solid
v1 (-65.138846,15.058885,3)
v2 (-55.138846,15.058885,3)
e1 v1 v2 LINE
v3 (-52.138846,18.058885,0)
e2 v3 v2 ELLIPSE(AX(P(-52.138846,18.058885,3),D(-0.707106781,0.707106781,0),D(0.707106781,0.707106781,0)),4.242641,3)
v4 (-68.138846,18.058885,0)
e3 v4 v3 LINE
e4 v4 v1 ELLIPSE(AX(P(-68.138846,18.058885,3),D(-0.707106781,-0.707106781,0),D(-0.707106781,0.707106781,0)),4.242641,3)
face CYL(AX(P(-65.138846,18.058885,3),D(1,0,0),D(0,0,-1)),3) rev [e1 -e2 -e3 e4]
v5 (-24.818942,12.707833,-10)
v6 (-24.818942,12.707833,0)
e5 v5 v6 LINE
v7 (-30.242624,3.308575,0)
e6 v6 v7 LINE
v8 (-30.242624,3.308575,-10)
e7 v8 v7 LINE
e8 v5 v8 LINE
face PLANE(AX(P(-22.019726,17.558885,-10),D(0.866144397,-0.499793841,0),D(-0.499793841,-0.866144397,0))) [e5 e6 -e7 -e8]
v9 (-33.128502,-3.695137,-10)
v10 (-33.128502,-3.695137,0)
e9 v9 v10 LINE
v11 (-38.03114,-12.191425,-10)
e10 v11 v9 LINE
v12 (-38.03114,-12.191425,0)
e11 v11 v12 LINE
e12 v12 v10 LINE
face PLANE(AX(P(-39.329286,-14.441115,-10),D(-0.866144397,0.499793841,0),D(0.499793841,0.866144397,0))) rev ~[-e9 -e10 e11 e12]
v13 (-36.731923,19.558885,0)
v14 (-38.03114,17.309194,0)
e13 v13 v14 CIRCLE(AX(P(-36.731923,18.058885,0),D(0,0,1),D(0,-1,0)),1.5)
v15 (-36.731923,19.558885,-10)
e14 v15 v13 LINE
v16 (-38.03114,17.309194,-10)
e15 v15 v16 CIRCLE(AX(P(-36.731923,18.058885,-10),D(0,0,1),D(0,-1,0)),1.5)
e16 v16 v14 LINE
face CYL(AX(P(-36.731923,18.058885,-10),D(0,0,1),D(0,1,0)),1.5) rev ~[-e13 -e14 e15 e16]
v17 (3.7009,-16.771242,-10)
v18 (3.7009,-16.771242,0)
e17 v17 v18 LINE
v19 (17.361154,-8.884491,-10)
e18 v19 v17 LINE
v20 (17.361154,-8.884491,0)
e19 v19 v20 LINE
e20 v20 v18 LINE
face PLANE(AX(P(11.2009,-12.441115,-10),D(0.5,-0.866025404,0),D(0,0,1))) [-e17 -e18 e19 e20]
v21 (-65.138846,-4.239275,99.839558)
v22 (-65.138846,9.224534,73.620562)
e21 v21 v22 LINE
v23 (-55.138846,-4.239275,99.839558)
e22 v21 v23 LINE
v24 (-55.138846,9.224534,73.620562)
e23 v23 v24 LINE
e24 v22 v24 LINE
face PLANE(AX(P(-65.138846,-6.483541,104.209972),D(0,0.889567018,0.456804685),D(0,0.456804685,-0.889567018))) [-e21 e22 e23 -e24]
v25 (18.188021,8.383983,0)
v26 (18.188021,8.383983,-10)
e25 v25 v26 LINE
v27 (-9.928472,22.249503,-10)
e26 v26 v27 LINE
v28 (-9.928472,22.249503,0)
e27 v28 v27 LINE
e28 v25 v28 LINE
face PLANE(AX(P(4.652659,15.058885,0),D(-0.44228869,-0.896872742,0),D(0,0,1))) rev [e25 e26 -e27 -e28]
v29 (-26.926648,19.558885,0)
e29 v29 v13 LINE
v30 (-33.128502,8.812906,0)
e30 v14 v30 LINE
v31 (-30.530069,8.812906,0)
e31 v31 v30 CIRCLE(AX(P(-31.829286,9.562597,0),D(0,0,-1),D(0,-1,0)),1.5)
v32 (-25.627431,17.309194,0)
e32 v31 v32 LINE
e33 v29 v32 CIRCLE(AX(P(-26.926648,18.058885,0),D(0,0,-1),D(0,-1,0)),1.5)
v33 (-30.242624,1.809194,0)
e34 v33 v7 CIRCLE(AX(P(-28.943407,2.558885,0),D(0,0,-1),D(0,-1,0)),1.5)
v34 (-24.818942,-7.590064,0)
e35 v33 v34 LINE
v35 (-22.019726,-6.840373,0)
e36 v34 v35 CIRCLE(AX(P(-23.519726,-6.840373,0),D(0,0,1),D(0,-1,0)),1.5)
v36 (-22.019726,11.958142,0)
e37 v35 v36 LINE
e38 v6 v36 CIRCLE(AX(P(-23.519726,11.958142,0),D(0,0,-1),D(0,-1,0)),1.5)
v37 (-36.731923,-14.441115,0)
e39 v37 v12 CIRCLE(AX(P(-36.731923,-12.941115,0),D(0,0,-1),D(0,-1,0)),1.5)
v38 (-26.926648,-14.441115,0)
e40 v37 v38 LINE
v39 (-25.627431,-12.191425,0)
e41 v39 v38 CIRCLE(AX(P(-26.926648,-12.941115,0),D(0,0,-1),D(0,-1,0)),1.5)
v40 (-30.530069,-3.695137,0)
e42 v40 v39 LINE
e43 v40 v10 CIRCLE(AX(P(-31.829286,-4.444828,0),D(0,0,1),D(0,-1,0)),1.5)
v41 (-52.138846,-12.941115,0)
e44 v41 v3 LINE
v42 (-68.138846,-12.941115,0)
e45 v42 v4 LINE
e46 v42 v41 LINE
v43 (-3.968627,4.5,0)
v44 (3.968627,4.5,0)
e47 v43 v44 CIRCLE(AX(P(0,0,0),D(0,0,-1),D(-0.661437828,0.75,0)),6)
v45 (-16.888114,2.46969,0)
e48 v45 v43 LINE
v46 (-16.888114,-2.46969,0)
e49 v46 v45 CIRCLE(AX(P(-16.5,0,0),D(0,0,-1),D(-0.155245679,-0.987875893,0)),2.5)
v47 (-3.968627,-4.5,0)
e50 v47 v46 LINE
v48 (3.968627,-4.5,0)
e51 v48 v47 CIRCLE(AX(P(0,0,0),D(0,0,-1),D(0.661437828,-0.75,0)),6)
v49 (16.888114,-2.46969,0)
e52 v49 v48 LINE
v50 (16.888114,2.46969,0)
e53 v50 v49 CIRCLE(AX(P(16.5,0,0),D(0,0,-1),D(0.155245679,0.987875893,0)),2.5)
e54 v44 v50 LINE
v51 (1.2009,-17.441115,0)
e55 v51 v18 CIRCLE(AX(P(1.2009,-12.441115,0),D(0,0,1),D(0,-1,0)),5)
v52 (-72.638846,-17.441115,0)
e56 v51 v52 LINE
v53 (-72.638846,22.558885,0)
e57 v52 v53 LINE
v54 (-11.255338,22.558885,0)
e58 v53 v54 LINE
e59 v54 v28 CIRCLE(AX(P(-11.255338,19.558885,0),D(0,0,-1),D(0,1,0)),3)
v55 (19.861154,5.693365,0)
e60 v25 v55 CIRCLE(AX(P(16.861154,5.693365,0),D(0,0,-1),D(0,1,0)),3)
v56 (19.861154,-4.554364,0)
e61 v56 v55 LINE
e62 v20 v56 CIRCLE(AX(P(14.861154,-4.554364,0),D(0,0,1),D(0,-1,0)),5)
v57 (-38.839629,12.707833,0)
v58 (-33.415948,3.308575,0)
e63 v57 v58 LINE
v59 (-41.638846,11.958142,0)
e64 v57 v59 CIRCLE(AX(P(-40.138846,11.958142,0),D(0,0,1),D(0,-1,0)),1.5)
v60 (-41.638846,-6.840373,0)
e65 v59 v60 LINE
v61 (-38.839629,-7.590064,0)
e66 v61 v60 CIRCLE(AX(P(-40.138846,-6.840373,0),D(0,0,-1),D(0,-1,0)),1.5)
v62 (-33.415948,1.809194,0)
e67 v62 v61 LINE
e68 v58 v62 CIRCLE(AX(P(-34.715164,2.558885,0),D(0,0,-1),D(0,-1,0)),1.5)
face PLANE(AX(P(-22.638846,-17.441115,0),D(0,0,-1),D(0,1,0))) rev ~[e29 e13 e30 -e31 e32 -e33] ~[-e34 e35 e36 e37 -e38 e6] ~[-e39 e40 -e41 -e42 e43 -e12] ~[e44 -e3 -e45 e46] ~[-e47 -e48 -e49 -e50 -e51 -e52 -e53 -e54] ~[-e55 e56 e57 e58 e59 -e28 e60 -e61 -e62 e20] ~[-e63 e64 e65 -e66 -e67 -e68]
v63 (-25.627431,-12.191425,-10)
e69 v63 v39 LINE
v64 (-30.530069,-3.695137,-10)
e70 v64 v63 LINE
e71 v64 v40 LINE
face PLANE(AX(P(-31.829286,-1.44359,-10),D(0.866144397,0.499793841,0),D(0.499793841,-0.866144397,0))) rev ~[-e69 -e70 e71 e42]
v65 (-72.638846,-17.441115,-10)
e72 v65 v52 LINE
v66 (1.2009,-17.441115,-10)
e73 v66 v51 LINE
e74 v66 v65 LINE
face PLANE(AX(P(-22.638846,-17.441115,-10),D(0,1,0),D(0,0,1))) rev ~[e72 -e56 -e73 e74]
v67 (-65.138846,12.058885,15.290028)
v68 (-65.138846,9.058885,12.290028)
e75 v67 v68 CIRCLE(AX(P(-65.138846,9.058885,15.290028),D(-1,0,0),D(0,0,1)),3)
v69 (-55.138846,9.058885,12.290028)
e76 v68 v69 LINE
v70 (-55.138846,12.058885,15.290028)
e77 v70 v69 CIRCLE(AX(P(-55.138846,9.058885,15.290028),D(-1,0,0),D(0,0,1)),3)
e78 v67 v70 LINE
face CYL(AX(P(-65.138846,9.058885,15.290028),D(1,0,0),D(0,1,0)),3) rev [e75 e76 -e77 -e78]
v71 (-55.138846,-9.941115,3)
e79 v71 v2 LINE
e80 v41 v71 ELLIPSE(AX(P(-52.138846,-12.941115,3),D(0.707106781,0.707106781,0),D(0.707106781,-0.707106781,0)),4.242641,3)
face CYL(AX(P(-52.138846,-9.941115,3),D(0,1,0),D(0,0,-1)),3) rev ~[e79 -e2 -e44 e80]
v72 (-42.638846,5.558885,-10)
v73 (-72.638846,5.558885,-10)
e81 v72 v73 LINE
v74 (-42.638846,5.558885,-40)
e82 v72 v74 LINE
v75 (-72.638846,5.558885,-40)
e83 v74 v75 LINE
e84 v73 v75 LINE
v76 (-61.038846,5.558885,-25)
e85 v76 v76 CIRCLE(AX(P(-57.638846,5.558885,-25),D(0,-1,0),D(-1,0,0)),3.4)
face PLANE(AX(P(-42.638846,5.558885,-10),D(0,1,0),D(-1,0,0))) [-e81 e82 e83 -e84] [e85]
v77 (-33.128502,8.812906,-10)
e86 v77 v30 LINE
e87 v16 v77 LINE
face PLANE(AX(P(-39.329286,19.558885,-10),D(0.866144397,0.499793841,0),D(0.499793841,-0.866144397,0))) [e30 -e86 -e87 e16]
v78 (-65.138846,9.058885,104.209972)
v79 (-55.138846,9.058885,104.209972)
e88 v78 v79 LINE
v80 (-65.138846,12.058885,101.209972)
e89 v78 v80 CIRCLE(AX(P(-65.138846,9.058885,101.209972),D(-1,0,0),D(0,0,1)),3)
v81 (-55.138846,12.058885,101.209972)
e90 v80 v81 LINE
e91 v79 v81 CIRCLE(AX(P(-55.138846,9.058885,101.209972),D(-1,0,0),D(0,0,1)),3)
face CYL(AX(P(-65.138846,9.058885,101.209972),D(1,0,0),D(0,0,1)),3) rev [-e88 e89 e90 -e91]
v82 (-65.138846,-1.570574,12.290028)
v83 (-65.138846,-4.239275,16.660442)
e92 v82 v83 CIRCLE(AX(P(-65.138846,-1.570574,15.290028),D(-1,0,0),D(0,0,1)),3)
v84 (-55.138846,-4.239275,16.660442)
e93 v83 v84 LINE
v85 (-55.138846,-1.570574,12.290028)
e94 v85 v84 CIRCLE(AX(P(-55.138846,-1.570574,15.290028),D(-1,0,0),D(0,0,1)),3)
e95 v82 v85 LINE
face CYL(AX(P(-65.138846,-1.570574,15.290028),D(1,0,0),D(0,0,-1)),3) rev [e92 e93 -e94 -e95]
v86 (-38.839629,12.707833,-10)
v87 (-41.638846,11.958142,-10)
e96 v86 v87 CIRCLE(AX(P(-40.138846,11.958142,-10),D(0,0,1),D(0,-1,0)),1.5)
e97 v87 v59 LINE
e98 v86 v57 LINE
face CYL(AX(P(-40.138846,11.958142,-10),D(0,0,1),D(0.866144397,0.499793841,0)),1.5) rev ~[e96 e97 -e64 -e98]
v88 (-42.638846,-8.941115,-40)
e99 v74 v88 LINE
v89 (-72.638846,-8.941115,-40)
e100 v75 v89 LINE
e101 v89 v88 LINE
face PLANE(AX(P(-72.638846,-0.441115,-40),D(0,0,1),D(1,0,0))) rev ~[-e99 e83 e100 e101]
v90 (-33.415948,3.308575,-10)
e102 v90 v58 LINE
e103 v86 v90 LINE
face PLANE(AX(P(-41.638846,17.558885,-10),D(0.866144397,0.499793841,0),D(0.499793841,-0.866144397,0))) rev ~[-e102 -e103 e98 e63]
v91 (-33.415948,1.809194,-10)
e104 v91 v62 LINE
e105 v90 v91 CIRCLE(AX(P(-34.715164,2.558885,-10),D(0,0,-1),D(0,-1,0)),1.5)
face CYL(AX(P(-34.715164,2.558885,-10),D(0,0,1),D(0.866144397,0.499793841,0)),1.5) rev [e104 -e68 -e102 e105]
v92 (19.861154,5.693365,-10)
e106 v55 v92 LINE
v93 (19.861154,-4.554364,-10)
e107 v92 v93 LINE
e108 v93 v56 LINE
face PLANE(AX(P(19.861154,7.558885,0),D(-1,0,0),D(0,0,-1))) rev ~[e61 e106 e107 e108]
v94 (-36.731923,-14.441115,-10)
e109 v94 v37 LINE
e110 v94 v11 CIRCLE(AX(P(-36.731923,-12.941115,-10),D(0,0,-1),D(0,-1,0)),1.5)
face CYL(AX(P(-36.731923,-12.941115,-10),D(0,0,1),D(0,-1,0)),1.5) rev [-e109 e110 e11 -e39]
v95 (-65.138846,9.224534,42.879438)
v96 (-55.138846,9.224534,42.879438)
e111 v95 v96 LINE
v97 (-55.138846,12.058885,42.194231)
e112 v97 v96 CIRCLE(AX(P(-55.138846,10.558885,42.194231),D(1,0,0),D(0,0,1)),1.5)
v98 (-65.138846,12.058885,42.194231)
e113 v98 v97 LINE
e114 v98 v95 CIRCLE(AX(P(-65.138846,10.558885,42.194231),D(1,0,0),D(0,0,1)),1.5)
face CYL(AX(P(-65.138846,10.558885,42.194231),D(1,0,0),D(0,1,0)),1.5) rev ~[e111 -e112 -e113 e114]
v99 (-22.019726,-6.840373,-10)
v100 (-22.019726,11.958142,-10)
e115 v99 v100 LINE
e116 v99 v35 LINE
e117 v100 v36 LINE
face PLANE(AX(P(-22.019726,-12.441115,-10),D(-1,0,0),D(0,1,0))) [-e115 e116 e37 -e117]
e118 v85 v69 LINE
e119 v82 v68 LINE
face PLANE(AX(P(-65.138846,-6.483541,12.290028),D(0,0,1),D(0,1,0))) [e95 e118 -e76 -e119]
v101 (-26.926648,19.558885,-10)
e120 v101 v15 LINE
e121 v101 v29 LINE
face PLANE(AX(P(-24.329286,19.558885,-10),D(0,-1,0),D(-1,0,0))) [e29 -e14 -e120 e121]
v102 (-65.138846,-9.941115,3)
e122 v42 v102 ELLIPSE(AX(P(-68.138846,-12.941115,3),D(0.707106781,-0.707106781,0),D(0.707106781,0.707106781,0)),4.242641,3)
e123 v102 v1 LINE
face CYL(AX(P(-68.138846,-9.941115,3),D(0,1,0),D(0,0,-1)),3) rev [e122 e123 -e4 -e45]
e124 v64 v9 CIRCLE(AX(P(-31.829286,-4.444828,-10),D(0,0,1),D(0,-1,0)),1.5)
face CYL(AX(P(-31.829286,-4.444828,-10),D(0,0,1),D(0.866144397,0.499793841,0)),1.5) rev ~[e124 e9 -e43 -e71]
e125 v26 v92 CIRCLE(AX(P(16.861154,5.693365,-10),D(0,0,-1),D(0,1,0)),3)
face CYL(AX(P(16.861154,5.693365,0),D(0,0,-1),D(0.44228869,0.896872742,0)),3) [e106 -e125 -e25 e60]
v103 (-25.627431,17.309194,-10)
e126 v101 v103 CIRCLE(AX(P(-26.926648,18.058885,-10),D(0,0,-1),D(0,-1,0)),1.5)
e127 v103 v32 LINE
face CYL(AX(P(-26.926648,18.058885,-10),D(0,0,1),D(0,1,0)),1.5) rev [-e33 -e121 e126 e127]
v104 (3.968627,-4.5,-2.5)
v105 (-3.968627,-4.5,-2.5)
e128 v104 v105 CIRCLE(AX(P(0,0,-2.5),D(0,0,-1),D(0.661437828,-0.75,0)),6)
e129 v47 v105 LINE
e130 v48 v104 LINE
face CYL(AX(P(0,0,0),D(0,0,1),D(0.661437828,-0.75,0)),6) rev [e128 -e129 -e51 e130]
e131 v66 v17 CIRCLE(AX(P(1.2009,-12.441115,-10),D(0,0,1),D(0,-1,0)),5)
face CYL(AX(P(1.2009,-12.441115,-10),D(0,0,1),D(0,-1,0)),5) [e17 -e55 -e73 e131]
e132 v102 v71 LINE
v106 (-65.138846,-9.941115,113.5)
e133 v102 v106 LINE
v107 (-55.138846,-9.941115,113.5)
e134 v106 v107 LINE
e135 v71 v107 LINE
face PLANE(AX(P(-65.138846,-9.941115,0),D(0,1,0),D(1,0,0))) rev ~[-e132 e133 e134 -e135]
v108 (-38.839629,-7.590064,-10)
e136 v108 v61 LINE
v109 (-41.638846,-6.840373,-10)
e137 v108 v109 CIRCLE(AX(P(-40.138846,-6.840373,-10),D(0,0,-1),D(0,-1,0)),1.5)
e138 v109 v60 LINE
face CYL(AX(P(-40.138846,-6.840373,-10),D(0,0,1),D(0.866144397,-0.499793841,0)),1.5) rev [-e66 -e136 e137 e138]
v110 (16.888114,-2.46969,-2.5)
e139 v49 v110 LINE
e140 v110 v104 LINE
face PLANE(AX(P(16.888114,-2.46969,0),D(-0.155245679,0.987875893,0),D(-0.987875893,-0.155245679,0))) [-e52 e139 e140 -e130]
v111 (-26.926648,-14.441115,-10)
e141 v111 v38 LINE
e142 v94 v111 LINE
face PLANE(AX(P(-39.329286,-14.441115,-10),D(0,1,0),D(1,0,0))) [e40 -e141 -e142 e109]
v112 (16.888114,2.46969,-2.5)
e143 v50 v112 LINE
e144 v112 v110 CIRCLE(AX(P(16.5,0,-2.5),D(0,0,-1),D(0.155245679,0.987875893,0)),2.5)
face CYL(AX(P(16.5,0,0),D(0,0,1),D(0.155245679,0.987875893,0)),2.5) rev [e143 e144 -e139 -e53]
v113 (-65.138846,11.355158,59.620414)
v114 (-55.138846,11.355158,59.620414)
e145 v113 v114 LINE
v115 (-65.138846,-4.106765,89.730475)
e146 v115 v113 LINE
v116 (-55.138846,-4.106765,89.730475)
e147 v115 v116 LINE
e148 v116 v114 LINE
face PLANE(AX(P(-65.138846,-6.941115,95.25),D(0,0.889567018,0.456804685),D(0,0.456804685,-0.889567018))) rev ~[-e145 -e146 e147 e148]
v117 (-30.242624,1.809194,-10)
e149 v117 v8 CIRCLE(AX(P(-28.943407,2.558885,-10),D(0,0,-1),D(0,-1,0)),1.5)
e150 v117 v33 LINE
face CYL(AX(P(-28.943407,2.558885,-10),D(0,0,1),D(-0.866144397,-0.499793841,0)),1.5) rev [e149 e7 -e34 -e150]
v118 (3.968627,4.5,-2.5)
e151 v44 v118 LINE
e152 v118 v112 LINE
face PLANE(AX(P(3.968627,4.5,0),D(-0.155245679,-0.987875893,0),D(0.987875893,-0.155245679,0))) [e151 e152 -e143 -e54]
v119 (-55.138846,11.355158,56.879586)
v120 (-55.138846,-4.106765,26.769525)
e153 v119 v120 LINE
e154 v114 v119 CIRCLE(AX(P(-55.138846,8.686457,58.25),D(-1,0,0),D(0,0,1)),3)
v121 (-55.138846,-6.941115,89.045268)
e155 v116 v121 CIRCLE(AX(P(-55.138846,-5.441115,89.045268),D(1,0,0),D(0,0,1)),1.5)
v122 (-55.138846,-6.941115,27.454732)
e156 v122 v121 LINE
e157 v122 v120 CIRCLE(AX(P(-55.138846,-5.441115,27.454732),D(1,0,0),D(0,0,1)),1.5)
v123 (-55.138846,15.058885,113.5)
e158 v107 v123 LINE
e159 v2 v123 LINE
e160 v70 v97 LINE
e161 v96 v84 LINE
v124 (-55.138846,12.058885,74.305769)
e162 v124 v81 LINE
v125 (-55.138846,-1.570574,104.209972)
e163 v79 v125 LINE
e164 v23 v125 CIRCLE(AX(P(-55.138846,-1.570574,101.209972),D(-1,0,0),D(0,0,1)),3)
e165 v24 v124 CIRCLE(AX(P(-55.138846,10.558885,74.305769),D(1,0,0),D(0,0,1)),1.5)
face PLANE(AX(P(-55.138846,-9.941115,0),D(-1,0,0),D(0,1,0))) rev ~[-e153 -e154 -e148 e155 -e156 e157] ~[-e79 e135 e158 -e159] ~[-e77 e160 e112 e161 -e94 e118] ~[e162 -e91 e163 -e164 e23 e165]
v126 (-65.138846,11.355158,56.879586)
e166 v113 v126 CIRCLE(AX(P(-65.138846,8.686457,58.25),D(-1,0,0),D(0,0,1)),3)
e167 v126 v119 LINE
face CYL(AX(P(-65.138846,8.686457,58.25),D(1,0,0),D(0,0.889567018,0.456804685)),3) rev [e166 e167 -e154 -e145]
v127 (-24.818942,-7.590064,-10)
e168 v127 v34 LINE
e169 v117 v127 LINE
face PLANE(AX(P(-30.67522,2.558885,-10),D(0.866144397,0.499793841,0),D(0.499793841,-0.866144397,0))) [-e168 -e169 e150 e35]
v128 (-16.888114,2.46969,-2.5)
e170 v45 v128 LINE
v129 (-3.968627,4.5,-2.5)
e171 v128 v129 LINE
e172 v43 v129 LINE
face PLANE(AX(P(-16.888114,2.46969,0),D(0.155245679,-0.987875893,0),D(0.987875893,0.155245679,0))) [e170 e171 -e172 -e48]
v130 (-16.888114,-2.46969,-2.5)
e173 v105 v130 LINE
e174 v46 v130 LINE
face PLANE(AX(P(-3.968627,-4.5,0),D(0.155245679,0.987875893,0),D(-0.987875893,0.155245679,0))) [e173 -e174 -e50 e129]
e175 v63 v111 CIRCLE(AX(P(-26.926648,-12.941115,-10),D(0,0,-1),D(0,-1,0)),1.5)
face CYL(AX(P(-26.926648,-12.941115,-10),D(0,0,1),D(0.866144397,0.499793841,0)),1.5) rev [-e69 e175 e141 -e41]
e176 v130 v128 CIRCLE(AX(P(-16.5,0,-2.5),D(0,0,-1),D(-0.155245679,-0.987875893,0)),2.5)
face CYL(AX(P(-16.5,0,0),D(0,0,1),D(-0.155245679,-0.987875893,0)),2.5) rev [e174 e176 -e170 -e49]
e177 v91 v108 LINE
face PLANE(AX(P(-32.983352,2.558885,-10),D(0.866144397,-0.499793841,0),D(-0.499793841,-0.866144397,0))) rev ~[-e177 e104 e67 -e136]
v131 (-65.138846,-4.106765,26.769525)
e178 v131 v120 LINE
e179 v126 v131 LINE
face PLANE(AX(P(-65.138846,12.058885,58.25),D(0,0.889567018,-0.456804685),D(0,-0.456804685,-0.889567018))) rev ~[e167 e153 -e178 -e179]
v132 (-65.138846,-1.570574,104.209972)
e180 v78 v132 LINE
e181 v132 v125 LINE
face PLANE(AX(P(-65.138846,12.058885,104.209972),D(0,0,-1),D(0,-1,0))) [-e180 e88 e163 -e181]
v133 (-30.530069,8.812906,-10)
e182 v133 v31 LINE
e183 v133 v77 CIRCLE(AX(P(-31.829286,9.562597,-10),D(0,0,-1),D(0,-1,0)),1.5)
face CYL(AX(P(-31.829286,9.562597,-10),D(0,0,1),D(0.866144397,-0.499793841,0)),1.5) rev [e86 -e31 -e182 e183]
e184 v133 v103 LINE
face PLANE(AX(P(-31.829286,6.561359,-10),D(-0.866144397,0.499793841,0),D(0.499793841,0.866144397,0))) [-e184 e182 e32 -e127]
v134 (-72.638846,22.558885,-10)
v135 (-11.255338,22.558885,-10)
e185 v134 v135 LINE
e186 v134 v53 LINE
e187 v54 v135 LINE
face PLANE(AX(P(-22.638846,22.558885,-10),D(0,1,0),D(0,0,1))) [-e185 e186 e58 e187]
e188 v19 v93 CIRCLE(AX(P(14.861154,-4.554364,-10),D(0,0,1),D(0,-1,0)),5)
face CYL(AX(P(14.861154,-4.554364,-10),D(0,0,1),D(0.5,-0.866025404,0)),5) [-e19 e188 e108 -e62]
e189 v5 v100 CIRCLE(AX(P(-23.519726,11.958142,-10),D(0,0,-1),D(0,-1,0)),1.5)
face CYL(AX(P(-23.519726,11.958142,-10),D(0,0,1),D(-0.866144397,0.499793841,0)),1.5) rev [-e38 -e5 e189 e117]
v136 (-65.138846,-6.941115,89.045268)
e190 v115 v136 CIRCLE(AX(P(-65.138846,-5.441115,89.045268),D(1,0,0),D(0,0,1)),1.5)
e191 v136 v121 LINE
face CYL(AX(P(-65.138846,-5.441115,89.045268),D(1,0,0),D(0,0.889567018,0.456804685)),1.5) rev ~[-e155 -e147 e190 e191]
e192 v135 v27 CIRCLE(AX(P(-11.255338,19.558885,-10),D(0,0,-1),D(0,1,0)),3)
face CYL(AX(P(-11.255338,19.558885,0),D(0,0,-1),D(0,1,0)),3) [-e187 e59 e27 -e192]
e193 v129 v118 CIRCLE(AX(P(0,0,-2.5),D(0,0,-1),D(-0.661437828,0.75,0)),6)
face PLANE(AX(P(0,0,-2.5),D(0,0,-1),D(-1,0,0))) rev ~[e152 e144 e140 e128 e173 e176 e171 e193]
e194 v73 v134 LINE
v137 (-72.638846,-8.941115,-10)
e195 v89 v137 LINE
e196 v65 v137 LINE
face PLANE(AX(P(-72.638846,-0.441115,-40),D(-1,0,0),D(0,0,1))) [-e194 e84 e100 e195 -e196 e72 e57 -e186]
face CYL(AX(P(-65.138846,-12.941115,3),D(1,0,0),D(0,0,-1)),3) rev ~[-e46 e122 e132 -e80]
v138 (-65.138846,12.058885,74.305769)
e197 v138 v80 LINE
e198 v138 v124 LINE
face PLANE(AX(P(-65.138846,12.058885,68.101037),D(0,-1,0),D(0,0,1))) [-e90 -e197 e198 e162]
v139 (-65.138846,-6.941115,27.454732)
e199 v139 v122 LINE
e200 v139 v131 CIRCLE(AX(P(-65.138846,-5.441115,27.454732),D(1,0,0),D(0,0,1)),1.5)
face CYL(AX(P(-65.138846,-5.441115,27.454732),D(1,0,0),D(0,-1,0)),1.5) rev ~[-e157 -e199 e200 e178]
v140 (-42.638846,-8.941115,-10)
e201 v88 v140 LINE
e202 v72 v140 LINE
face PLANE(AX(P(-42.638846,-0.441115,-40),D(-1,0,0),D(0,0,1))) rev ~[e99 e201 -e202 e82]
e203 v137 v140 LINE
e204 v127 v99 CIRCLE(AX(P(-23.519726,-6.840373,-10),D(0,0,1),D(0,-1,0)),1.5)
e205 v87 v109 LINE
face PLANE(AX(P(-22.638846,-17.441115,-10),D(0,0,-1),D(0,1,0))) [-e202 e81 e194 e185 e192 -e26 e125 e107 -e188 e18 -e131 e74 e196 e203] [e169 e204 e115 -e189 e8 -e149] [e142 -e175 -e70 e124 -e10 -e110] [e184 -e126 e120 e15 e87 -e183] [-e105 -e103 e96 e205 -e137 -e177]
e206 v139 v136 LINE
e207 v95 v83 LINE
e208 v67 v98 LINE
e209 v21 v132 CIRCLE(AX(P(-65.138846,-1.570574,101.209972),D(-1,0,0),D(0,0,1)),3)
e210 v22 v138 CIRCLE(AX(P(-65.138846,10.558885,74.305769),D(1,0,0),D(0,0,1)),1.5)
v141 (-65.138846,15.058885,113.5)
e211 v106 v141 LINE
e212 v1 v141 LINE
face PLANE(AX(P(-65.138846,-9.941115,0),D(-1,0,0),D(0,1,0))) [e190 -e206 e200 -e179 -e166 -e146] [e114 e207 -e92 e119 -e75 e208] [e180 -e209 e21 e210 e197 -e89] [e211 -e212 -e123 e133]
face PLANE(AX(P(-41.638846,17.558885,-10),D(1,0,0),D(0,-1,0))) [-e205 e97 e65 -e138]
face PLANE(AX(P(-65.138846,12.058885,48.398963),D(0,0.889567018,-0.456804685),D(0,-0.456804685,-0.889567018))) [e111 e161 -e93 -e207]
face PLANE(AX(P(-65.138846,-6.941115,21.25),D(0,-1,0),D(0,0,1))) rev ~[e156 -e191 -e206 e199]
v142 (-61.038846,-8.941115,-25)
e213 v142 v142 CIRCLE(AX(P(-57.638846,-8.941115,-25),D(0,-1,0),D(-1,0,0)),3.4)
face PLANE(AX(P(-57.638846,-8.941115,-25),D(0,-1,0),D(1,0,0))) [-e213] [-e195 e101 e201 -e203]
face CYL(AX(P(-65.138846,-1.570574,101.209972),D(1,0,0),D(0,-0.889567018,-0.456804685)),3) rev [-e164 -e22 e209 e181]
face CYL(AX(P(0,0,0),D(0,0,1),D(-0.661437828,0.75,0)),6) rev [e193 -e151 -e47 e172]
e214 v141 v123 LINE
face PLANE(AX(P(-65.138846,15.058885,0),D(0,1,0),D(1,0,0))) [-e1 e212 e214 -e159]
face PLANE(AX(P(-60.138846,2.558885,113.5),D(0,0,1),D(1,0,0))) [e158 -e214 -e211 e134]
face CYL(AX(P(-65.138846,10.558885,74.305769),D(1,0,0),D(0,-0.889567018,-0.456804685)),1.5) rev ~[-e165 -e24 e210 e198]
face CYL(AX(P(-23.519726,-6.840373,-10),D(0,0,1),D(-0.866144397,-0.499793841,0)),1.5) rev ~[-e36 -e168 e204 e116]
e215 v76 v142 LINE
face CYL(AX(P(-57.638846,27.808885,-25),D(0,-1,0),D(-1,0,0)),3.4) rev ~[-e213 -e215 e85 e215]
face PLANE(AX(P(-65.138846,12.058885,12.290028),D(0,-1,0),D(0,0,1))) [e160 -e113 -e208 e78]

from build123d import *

# Parameters (mm, degrees)
SKETCH3_W             = 42.5
SKETCH3_H             = 15
BOSS_EXTRUDE1_DEPTH   = 10
CUT_EXTRUDE1_DEPTH    = 2.5
SKETCH11_W            = 42.5
SKETCH11_H            = 10
BOSS_EXTRUDE5_DEPTH   = 10
SKETCH14_W            = 42.5
SKETCH14_H            = 10
BOSS_EXTRUDE7_DEPTH   = 15
SKETCH20_W            = 10
SKETCH20_H            = 40
BOSS_EXTRUDE10_DEPTH  = 50
SKETCH21_W            = 10
SKETCH21_H            = 25
BOSS_EXTRUDE11_DEPTH  = 113.5
SKETCH22_W            = 30
SKETCH22_H            = 6
BOSS_EXTRUDE12_DEPTH  = 30
SKETCH23_W            = 30
SKETCH23_H            = 30
BOSS_EXTRUDE13_DEPTH  = 8.5
FILLET1_R             = 3
CHAMFER1_SIZE         = 15
CHAMFER1_SIZE2        = 30.41699103
FILLET2_R             = 3
CHAMFER2_SIZE         = 10
CHAMFER2_SIZE2        = 17.320508076
FILLET3_R             = 5
CUT_EXTRUDE2_DEPTH    = 144.583262507
FILLET4_R             = 3
FILLET5_R             = 1.5
M8_TAPPED_HOLE1_D     = 6.8
M8_TAPPED_HOLE1_DEPTH = 22.25
M8_TAPPED_HOLE1_TIP   = 2.042926105
CUT_EXTRUDE3_DEPTH    = 141.312152004
FILLET6_R             = 1.5


with BuildPart() as part:
    # Sketch3 → Boss-Extrude1 (new body)
    with BuildSketch(Plane.XY):
        with Locations((-1.388845539, 0.05888455)):
            Rectangle(SKETCH3_W, SKETCH3_H)
    extrude(amount=-BOSS_EXTRUDE1_DEPTH)

    # Sketch2 → Cut-Extrude1 (cut)
    with BuildSketch(Plane.XY):
        with BuildLine():
            Line((-16.888114198, 2.469689731), (-3.968626967, 4.5))
            ThreePointArc((-3.968626967, 4.5), (0, 6), (3.968626967, 4.5))
            Line((3.968626967, 4.5), (16.888114198, 2.469689731))
            ThreePointArc((16.888114198, 2.469689731), (19, 0), (16.888114198, -2.469689731))
            Line((16.888114198, -2.469689731), (3.968626967, -4.5))
            ThreePointArc((3.968626967, -4.5), (0, -6), (-3.968626967, -4.5))
            Line((-3.968626967, -4.5), (-16.888114198, -2.469689731))
            ThreePointArc((-16.888114198, -2.469689731), (-19, 0), (-16.888114198, 2.469689731))
        make_face()
    extrude(amount=-CUT_EXTRUDE1_DEPTH, mode=Mode.SUBTRACT)

    # Sketch11 → Boss-Extrude5 (add)
    with BuildSketch(Plane.XZ.offset(7.44111545)):
        with Locations((-1.388845539, -5)):
            Rectangle(SKETCH11_W, SKETCH11_H)
    extrude(amount=BOSS_EXTRUDE5_DEPTH)

    # Sketch14 → Boss-Extrude7 (add)
    with BuildSketch(Plane(origin=(0, 7.55888455, 0), x_dir=(1, 0, 0), z_dir=(0, 1, 0))):
        with Locations((-1.388845539, 5)):
            Rectangle(SKETCH14_W, SKETCH14_H)
    extrude(amount=BOSS_EXTRUDE7_DEPTH)

    # Sketch20 → Boss-Extrude10 (add)
    with BuildSketch(Plane.ZY.offset(22.638845539)):
        with Locations((-5, 2.55888455)):
            Rectangle(SKETCH20_W, SKETCH20_H)
    extrude(amount=BOSS_EXTRUDE10_DEPTH)

    # Sketch21 → Boss-Extrude11 (add)
    with BuildSketch(Plane.XY):
        with Locations((-60.138845539, 2.55888455)):
            Rectangle(SKETCH21_W, SKETCH21_H)
    extrude(amount=BOSS_EXTRUDE11_DEPTH)

    # Sketch22 → Boss-Extrude12 (add)
    with BuildSketch(Plane(origin=(0, 0, -10), x_dir=(-1, 0, 0), z_dir=(0, 0, -1))):
        with Locations((57.638845539, 2.55888455)):
            Rectangle(SKETCH22_W, SKETCH22_H)
    extrude(amount=BOSS_EXTRUDE12_DEPTH)

    # Sketch23 → Boss-Extrude13 (add)
    with BuildSketch(Plane.XZ.offset(0.44111545)):
        with Locations((-57.638845539, -25)):
            Rectangle(SKETCH23_W, SKETCH23_H)
    extrude(amount=BOSS_EXTRUDE13_DEPTH)

    # Fillet1
    fillet1_edges = [part.edges().sort_by_distance(p)[0] for p in [
        (-65.138845539, 2.55888455, 0),
        (-60.138845539, -9.94111545, 0),
        (-55.138845539, 2.55888455, 0),
        (-60.138845539, 15.05888455, 0),
    ]]
    fillet(fillet1_edges, radius=FILLET1_R)

    # Chamfer1
    chamfer1_edges = [part.edges().sort_by_distance(p)[0] for p in [
        (19.861154461, 22.55888455, -5),
    ]]
    chamfer1_side = [part.faces().sort_by_distance(p)[0] for p in [
        (19.861154461, 2.55888455, -5),
    ]]
    chamfer(chamfer1_edges, length=CHAMFER1_SIZE, length2=CHAMFER1_SIZE2, reference=chamfer1_side[0])

    # Fillet2
    fillet2_edges = [part.edges().sort_by_distance(p)[0] for p in [
        (-10.555836569, 22.55888455, -5),
        (19.861154461, 7.55888455, -5),
    ]]
    fillet(fillet2_edges, radius=FILLET2_R)

    # Chamfer2
    chamfer2_edges = [part.edges().sort_by_distance(p)[0] for p in [
        (19.861154461, -17.44111545, -5),
    ]]
    chamfer2_side = [part.faces().sort_by_distance(p)[0] for p in [
        (19.861154461, -5.873875391, -5),
    ]]
    chamfer(chamfer2_edges, length=CHAMFER2_SIZE, length2=CHAMFER2_SIZE2, reference=chamfer2_side[0])

    # Fillet3
    fillet3_edges = [part.edges().sort_by_distance(p)[0] for p in [
        (2.540646385, -17.44111545, -5),
        (19.861154461, -7.44111545, -5),
    ]]
    fillet(fillet3_edges, radius=FILLET3_R)

    # Sketch24 → Cut-Extrude2 (cut, through all)
    with BuildSketch(Plane.ZY.offset(65.138845539)):
        Polygon((58.25, -6.94111545), (95.25, -6.94111545), (58.25, 12.05888455), (21.25, -6.94111545), align=None)
        Polygon((48.39896268, 12.05888455), (12.290027833, -6.483541453), (12.290027833, 12.05888455), align=None)
        Polygon((68.10103732, 12.05888455), (104.209972167, 12.05888455), (104.209972167, -6.483541453), align=None)
    extrude(amount=-CUT_EXTRUDE2_DEPTH, mode=Mode.SUBTRACT)

    # Fillet4
    fillet4_edges = [part.edges().sort_by_distance(p)[0] for p in [
        (-60.138845539, -6.483541453, 104.209972167),
        (-60.138845539, 12.05888455, 104.209972167),
        (-60.138845539, 12.05888455, 12.290027833),
        (-60.138845539, -6.483541453, 12.290027833),
        (-60.138845539, 12.05888455, 58.25),
    ]]
    fillet(fillet4_edges, radius=FILLET4_R)

    # Fillet5
    fillet5_edges = [part.edges().sort_by_distance(p)[0] for p in [
        (-60.138845539, 12.05888455, 68.10103732),
        (-60.138845539, 12.05888455, 48.39896268),
        (-60.138845539, -6.94111545, 21.25),
        (-60.138845539, -6.94111545, 95.25),
    ]]
    fillet(fillet5_edges, radius=FILLET5_R)

    # M8 Tapped Hole1
    with Locations(Plane(origin=(0, 5.55888455, 0), x_dir=(1, 0, 0), z_dir=(0, 1, 0))):
        with Locations((-57.638845539, 25)):
            Hole(M8_TAPPED_HOLE1_D / 2, depth=M8_TAPPED_HOLE1_DEPTH)
            with Locations((0, 0, -(M8_TAPPED_HOLE1_DEPTH + M8_TAPPED_HOLE1_TIP / 2))):  # 118° drill point
                Cone(0, M8_TAPPED_HOLE1_D / 2, M8_TAPPED_HOLE1_TIP, mode=Mode.SUBTRACT)

    # Sketch32 → Cut-Extrude3 (cut, through all)
    with BuildSketch(Plane(origin=(-42.638845539, 5.55888455, -10), x_dir=(1, 0, 0), z_dir=(0, 0, 1))):
        Polygon((10.809559843, 14), (3.309559843, 14), (10.809559843, 1.002474929), (18.309559843, 14), align=None)
        Polygon((1, 12), (9.65549398, -3), (1, -18), (1, -3), align=None)
        Polygon((10.809559843, -7.002474929), (18.309559843, -20), (10.809559843, -20), (3.309559843, -20), align=None)
        Polygon((20.619119687, -18), (20.619119687, -3), (20.619119687, 12), (11.963625707, -3), align=None)
    extrude(amount=CUT_EXTRUDE3_DEPTH, mode=Mode.SUBTRACT)

    # Fillet6
    fillet6_edges = [part.edges().sort_by_distance(p)[0] for p in [
        (-41.638845539, 17.55888455, -5),
        (-41.638845539, -12.44111545, -5),
        (-32.98335156, 2.55888455, -5),
        (-22.019725852, 17.55888455, -5),
        (-30.675219832, 2.55888455, -5),
        (-22.019725852, -12.44111545, -5),
        (-24.329285696, -14.44111545, -5),
        (-31.829285696, -1.44359038, -5),
        (-39.329285696, -14.44111545, -5),
        (-24.329285696, 19.55888455, -5),
        (-39.329285696, 19.55888455, -5),
        (-31.829285696, 6.561359479, -5),
    ]]
    fillet(fillet6_edges, radius=FILLET6_R)


solid = part.part
